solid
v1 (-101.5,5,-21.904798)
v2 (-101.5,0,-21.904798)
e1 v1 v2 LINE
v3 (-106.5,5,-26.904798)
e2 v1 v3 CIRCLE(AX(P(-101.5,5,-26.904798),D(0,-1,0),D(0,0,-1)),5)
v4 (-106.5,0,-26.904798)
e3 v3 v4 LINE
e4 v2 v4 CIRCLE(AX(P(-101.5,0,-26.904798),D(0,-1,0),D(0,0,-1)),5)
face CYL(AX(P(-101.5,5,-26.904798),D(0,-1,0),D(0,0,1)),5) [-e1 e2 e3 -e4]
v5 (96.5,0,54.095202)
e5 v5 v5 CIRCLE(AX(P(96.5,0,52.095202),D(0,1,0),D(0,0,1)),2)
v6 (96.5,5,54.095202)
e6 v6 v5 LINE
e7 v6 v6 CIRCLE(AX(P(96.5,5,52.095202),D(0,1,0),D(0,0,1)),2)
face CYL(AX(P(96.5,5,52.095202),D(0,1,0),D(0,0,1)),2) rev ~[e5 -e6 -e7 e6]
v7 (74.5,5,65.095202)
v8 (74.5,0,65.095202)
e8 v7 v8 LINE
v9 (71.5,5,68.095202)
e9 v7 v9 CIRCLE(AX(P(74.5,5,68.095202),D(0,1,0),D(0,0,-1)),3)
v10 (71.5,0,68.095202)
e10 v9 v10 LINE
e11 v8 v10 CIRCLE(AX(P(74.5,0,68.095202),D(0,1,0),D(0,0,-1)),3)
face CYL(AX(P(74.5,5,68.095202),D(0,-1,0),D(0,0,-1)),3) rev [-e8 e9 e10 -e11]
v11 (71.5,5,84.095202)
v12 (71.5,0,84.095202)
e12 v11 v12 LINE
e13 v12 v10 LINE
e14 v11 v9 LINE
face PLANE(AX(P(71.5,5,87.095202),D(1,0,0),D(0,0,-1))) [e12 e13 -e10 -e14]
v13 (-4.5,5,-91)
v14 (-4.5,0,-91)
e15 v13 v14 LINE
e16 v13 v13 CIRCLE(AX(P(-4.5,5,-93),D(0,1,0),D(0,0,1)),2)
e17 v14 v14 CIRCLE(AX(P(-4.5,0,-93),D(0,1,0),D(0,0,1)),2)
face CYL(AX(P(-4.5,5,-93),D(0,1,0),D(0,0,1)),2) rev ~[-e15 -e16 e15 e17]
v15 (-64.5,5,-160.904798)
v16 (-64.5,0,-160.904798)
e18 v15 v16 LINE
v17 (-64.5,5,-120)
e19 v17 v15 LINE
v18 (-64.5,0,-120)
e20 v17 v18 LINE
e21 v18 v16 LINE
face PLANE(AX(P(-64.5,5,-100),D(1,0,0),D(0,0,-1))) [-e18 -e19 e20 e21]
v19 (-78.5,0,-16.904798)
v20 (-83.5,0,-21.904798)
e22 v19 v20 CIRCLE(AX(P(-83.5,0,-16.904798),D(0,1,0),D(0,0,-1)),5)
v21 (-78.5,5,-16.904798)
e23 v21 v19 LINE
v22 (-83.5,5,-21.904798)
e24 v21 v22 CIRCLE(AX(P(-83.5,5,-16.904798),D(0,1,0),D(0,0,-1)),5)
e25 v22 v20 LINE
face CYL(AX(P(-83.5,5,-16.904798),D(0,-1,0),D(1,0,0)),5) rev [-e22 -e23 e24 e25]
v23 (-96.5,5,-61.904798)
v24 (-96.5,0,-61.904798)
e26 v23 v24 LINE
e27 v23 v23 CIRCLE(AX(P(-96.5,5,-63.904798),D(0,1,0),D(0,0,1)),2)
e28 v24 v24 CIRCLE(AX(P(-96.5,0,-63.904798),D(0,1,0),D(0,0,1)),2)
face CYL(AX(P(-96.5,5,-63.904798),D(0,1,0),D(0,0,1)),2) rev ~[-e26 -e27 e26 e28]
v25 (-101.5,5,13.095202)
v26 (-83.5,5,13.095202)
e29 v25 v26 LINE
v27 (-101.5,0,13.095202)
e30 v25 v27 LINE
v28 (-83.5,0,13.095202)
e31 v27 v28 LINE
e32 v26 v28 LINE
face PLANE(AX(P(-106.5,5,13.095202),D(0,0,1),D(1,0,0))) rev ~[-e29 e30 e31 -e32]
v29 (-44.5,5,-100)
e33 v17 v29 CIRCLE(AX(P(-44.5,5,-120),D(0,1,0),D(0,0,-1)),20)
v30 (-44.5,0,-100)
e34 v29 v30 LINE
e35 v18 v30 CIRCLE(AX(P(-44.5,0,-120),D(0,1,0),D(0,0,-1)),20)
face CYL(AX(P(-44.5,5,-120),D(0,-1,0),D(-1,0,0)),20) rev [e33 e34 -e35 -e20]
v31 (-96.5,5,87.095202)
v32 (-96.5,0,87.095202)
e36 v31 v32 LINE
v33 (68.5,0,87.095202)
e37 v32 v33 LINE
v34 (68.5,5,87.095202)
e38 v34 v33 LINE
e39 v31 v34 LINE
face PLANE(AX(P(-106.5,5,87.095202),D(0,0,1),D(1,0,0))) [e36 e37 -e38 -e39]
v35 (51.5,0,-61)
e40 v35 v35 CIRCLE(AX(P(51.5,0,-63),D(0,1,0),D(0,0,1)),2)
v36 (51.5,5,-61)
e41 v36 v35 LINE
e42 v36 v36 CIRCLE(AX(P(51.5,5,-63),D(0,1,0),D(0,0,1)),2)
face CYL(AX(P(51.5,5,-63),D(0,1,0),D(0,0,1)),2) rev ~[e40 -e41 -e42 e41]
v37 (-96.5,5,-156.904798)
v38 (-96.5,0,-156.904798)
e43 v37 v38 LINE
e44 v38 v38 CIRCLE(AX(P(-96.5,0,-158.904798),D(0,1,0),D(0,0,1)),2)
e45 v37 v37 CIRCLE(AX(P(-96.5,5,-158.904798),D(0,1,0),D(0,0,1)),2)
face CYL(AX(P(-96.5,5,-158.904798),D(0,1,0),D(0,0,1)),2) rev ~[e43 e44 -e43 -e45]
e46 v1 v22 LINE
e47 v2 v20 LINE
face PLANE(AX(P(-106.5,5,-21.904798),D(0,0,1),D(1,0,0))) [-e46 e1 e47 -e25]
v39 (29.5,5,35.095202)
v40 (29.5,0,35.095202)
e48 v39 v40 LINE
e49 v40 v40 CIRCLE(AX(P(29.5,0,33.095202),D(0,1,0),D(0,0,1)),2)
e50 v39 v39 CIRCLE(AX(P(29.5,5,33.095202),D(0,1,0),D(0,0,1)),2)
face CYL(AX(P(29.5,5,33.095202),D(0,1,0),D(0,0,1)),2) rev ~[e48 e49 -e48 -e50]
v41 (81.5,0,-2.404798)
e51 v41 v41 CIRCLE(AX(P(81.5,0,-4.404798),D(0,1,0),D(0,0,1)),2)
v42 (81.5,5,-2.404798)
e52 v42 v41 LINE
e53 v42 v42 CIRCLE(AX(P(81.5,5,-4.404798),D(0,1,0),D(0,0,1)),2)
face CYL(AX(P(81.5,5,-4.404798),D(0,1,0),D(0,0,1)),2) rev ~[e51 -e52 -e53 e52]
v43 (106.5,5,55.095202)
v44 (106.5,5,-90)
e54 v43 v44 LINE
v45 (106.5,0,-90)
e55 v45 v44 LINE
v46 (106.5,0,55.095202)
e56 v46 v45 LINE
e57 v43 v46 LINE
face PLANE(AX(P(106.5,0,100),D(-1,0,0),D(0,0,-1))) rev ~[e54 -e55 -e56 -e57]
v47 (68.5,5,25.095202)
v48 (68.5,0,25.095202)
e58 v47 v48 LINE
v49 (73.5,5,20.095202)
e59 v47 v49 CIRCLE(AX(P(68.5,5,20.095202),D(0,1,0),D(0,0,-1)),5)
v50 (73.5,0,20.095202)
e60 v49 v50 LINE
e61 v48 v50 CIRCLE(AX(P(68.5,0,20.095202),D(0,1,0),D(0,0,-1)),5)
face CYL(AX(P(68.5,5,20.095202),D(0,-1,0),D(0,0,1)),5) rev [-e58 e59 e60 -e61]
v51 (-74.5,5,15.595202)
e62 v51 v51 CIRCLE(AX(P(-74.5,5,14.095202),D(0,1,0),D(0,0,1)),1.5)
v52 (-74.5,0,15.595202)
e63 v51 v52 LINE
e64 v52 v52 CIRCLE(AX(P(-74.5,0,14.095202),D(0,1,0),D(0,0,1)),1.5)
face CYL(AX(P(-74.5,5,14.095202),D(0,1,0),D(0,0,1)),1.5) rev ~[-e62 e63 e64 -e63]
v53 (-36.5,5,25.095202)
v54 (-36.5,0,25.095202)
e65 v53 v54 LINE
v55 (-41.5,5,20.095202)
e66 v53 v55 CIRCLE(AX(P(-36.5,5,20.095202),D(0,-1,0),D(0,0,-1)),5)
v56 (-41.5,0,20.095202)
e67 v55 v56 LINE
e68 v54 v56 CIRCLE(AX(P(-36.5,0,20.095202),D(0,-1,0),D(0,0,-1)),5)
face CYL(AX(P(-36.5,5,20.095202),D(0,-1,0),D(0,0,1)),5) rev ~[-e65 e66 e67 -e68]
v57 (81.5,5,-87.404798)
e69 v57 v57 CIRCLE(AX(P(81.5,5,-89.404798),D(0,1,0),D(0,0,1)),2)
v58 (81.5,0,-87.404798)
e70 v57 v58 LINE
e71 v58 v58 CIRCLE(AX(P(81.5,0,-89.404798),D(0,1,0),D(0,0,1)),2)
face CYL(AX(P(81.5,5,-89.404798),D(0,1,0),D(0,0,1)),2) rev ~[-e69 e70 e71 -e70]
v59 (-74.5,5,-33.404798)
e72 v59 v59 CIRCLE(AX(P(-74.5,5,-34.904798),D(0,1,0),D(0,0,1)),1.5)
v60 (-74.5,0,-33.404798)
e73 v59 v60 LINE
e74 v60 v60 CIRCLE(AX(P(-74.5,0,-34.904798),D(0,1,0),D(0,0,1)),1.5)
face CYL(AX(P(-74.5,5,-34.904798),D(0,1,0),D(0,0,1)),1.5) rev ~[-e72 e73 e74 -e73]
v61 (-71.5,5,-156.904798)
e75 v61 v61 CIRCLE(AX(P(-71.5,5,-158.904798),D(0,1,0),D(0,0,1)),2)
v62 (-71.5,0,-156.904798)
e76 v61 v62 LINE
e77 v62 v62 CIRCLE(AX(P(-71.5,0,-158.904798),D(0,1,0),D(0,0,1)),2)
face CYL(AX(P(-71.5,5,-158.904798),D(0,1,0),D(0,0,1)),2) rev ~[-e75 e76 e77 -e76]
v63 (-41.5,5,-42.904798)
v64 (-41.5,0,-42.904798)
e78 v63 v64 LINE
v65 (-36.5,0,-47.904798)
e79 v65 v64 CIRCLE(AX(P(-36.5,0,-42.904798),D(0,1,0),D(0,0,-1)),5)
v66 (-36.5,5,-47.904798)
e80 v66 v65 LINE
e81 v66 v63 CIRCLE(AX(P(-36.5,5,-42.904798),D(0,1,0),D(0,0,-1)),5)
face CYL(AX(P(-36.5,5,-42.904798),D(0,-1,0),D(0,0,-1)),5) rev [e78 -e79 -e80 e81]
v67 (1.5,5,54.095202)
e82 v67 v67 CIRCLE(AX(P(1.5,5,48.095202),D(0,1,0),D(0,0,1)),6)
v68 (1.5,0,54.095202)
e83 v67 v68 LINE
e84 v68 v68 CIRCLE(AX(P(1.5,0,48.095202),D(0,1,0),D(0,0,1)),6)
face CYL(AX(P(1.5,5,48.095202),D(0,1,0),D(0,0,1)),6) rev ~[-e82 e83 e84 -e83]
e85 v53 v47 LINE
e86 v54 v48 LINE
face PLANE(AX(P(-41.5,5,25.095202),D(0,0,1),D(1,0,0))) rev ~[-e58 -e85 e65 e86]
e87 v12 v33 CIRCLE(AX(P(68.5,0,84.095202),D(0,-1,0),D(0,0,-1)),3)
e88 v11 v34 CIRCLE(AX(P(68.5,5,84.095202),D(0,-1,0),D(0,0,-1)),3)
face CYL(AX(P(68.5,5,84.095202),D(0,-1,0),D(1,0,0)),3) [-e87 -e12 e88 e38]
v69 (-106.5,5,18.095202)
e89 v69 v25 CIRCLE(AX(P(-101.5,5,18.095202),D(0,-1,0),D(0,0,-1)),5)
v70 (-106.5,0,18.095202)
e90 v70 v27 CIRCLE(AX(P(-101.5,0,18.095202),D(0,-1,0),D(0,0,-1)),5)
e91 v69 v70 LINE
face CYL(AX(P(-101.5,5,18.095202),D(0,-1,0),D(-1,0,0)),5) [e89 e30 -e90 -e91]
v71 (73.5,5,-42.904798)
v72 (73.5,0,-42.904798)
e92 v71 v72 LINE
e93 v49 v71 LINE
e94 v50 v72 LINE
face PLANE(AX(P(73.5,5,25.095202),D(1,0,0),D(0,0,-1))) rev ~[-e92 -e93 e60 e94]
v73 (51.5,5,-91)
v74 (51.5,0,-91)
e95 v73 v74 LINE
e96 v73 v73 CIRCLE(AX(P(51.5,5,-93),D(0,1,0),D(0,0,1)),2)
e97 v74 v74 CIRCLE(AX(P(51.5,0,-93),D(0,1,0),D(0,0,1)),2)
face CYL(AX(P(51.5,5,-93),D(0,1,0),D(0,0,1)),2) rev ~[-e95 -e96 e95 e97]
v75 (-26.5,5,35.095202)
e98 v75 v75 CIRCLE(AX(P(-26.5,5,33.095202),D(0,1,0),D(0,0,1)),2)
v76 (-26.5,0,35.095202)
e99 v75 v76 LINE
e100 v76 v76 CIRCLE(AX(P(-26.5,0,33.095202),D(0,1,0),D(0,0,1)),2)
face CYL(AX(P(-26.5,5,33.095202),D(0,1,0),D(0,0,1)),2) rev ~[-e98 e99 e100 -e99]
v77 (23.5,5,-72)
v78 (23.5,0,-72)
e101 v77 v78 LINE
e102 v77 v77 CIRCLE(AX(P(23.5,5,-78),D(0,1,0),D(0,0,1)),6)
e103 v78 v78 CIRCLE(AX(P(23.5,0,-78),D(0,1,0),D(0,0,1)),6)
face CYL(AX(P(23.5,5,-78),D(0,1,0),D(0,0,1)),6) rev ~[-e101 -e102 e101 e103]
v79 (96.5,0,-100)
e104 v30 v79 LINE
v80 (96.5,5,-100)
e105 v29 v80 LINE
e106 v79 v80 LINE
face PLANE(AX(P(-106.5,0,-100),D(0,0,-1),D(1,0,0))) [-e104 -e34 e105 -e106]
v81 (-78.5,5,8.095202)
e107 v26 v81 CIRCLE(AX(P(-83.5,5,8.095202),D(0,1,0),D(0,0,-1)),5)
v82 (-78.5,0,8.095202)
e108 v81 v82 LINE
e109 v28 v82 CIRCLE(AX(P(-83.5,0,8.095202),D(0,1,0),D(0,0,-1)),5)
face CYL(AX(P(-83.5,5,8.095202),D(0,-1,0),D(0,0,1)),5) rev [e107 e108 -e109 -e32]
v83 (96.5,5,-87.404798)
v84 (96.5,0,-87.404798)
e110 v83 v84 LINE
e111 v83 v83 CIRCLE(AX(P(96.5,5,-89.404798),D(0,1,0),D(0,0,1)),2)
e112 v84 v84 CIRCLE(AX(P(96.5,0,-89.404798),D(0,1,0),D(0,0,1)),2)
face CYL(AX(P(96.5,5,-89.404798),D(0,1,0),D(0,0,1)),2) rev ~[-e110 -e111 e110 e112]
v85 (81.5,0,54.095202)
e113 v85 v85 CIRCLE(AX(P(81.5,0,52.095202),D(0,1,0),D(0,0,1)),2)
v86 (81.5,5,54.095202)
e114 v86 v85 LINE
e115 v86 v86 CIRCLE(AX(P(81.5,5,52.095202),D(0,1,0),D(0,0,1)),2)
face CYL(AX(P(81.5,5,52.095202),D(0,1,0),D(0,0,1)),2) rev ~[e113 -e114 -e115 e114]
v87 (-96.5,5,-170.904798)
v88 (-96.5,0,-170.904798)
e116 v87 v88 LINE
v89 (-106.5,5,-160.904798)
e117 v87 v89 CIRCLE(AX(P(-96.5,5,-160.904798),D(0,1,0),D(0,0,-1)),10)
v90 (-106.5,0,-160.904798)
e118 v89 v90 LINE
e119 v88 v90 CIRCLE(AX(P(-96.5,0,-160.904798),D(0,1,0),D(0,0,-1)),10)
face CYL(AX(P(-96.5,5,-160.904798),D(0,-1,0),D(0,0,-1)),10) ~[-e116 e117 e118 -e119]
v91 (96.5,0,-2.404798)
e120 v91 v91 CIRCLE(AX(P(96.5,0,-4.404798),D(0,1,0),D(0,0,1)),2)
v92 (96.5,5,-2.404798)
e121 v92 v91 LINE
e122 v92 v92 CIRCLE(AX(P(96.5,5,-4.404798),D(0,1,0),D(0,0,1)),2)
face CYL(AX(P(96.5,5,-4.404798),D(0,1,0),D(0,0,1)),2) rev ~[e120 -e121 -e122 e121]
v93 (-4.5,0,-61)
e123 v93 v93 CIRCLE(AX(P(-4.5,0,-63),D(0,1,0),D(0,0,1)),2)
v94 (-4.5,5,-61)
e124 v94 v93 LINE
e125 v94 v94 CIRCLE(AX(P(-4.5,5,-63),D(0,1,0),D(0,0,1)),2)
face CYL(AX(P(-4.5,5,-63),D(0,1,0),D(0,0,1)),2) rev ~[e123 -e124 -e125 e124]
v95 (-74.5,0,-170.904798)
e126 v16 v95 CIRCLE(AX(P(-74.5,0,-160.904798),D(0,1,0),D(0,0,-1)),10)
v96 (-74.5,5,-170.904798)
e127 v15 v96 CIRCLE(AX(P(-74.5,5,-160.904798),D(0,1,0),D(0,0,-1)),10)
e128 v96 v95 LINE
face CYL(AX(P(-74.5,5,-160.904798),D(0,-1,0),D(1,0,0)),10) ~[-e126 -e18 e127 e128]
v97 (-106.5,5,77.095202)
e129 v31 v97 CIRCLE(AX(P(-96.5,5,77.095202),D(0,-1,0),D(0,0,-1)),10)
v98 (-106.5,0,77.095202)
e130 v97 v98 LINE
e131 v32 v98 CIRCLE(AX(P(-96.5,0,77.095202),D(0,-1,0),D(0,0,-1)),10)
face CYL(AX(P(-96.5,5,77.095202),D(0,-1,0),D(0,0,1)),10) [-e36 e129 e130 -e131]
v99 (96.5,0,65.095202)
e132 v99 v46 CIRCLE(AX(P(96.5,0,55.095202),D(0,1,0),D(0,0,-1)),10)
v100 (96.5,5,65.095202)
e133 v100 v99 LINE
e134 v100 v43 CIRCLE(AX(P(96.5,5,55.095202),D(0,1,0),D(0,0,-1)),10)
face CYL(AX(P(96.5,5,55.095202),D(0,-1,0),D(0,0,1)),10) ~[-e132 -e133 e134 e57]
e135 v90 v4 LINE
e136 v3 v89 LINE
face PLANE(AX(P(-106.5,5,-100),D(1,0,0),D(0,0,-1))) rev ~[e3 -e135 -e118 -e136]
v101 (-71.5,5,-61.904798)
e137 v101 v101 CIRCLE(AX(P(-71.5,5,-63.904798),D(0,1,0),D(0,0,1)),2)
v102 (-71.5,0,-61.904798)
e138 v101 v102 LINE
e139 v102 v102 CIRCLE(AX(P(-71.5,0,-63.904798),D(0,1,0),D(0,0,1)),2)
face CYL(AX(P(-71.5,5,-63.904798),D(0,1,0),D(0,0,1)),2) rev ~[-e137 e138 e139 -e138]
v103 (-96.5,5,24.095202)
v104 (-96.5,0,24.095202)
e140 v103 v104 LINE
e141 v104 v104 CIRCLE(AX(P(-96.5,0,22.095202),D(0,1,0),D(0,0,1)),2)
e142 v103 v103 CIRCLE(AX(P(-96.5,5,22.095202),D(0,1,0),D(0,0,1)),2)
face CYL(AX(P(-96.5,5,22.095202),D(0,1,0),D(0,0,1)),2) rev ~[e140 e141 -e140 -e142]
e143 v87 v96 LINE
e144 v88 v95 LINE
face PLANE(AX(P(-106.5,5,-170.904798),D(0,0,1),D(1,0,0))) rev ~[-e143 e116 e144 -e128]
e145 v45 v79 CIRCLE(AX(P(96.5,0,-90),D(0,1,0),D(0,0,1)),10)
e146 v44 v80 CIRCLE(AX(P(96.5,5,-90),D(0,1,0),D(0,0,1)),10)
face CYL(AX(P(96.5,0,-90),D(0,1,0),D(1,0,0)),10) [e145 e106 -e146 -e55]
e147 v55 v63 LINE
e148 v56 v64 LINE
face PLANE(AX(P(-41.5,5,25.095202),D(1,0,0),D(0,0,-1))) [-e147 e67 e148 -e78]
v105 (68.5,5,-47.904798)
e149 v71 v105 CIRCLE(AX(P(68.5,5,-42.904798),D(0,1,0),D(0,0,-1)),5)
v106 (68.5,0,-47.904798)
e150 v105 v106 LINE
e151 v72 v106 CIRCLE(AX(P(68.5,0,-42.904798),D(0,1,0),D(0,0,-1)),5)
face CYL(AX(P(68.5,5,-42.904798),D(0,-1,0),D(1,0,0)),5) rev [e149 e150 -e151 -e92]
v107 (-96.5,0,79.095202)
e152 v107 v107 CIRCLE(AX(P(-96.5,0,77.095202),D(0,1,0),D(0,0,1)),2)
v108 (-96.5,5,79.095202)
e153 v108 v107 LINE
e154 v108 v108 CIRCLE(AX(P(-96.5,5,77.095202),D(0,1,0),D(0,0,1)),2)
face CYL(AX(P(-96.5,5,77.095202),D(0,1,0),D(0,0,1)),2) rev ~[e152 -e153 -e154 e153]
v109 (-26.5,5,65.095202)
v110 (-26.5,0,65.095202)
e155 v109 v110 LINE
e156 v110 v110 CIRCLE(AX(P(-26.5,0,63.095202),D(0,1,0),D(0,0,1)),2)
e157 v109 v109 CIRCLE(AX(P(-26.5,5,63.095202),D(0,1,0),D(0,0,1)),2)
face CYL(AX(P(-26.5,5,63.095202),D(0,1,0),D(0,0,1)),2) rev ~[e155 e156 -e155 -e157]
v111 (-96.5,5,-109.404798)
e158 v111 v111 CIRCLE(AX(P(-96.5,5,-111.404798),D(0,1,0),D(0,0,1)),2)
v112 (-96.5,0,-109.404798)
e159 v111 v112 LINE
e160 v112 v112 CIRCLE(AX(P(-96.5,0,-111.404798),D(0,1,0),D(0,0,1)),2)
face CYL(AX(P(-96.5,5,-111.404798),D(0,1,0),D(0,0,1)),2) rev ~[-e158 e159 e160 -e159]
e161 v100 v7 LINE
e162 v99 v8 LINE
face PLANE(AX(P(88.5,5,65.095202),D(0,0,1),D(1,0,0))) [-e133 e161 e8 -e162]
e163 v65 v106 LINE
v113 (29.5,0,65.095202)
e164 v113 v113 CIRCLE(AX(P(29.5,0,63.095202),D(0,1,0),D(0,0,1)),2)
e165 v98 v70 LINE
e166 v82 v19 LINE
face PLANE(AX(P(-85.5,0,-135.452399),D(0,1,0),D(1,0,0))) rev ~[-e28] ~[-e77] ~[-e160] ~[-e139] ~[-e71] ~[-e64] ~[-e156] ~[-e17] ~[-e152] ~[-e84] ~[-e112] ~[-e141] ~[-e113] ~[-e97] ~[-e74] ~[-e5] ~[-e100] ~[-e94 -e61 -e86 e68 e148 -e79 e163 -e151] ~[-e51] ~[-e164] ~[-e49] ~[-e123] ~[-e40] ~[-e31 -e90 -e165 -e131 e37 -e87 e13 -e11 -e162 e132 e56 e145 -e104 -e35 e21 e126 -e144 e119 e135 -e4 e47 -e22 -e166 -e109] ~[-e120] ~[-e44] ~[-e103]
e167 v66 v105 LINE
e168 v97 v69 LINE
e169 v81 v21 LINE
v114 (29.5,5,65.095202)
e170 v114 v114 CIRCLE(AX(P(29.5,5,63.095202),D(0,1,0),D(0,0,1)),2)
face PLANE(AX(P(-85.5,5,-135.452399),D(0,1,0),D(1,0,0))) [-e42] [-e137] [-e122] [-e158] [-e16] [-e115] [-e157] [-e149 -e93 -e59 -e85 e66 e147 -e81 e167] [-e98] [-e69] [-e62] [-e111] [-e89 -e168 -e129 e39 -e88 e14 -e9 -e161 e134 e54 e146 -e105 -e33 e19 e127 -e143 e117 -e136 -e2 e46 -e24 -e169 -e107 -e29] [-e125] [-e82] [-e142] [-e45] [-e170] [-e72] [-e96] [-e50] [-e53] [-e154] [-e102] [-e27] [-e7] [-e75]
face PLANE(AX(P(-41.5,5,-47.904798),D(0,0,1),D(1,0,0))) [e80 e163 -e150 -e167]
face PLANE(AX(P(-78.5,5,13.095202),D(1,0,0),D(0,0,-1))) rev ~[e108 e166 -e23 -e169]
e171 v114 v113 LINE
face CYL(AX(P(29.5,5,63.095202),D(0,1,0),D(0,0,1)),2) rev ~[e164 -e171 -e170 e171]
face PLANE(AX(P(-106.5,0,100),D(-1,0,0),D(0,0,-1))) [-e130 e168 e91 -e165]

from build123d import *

# Parameters (mm, degrees)
SKETCH_1_W          = 213
SKETCH_1_H          = 200
EXTRUDE_1_DEPTH     = 5
SKETCH_2_R          = 2
SKETCH_2_R_2        = 6
CUT_EXTRUDE_1_DEPTH = 147.175408328
SKETCH_3_W          = 213
SKETCH_3_H          = 12.904797871
CUT_EXTRUDE_2_DEPTH = 147.175408328
SKETCH_4_W          = 28
SKETCH_4_H          = 35
CUT_EXTRUDE_3_DEPTH = 147.175408328
FILLET_1_R          = 5
SKETCH_5_W          = 42
SKETCH_5_H          = 70.904797871
EXTRUDE_2_DEPTH     = 5
FILLET_2_R          = 20
SKETCH_6_R          = 2
CUT_EXTRUDE_4_DEPTH = 202.434108173
SKETCH_7_R          = 2
CUT_EXTRUDE_5_DEPTH = 202.434108173
SKETCH_8_W          = 20
SKETCH_8_H          = 22
CUT_EXTRUDE_6_DEPTH = 202.434108173
FILLET_3_R          = 3
SKETCH_9_W          = 18
SKETCH_9_H          = 22
CUT_EXTRUDE_7_DEPTH = 202.434108173
SKETCH_10_R         = 1.5
CUT_EXTRUDE_8_DEPTH = 202.434108173
FILLET_4_R          = 10
SKETCH_11_W         = 115
SKETCH_11_H         = 73
CUT_EXTRUDE_9_DEPTH = 202.434108173
FILLET_5_R          = 5


with BuildPart() as part:
    # 草图1 → 凸台-拉伸1 (new body)
    with BuildSketch(Plane(origin=(0, 0, 0), x_dir=(1, 0, 0), z_dir=(0, 1, 0))):
        Rectangle(SKETCH_1_W, SKETCH_1_H)
    extrude(amount=EXTRUDE_1_DEPTH)

    # 草图2 → 切除-拉伸1 (cut, through all)
    with BuildSketch(Plane(origin=(0, 5, 0), x_dir=(1, 0, 0), z_dir=(0, 1, 0))):
        with Locations(Location((-4.5, 93, 0), (0, 0, 270))):
            Circle(SKETCH_2_R)
        with Locations(Location((51.5, 93, 0), (0, 0, 270))):
            Circle(SKETCH_2_R)
        with Locations(Location((-4.5, 63, 0), (0, 0, 270))):
            Circle(SKETCH_2_R)
        with Locations(Location((51.5, 63, 0), (0, 0, 270))):
            Circle(SKETCH_2_R)
        with Locations(Location((-26.5, -33.095202129, 0), (0, 0, 270))):
            Circle(SKETCH_2_R)
        with Locations(Location((29.5, -33.095202129, 0), (0, 0, 270))):
            Circle(SKETCH_2_R)
        with Locations(Location((29.5, -63.095202129, 0), (0, 0, 270))):
            Circle(SKETCH_2_R)
        with Locations(Location((-26.5, -63.095202129, 0), (0, 0, 270))):
            Circle(SKETCH_2_R)
        with Locations(Location((1.5, -48.095202129, 0), (0, 0, 270))):
            Circle(SKETCH_2_R_2)
        with Locations(Location((23.5, 78, 0), (0, 0, 270))):
            Circle(SKETCH_2_R_2)
    extrude(amount=-CUT_EXTRUDE_1_DEPTH, mode=Mode.SUBTRACT)

    # 草图3 → 切除-拉伸2 (cut, through all)
    with BuildSketch(Plane(origin=(0, 5, 0), x_dir=(1, 0, 0), z_dir=(0, 1, 0))):
        with Locations((0, -93.547601065)):
            Rectangle(SKETCH_3_W, SKETCH_3_H)
    extrude(amount=-CUT_EXTRUDE_2_DEPTH, mode=Mode.SUBTRACT)

    # 草图4 → 切除-拉伸3 (cut, through all)
    with BuildSketch(Plane(origin=(0, 5, 0), x_dir=(1, 0, 0), z_dir=(0, 1, 0))):
        with Locations((-92.5, 4.404797871)):
            Rectangle(SKETCH_4_W, SKETCH_4_H)
    extrude(amount=-CUT_EXTRUDE_3_DEPTH, mode=Mode.SUBTRACT)

    # 圆角1
    fillet_1_edges = [part.edges().sort_by_distance(p)[0] for p in [
        (-106.5, 2.5, 13.095202129),
        (-106.5, 2.5, -21.904797871),
        (-78.5, 2.5, -21.904797871),
        (-78.5, 2.5, 13.095202129),
    ]]
    fillet(fillet_1_edges, radius=FILLET_1_R)

    # 草图5 → 凸台-拉伸2 (add)
    with BuildSketch(Plane(origin=(0, 5, 0), x_dir=(1, 0, 0), z_dir=(0, 1, 0))):
        with Locations((-85.5, 135.452398936)):
            Rectangle(SKETCH_5_W, SKETCH_5_H)
    extrude(amount=-EXTRUDE_2_DEPTH)

    # 圆角2
    fillet_2_edges = [part.edges().sort_by_distance(p)[0] for p in [
        (-64.5, 2.5, -100),
    ]]
    fillet(fillet_2_edges, radius=FILLET_2_R)

    # 草图6 → 切除-拉伸4 (cut, through all)
    with BuildSketch(Plane(origin=(0, 5, 0), x_dir=(1, 0, 0), z_dir=(0, 1, 0))):
        with Locations(Location((-96.5, 158.904797871, 0), (0, 0, 270))):
            Circle(SKETCH_6_R)
        with Locations(Location((-71.5, 158.904797871, 0), (0, 0, 270))):
            Circle(SKETCH_6_R)
        with Locations(Location((-71.5, 63.904797871, 0), (0, 0, 270))):
            Circle(SKETCH_6_R)
        with Locations(Location((-96.5, 63.904797871, 0), (0, 0, 270))):
            Circle(SKETCH_6_R)
    extrude(amount=-CUT_EXTRUDE_4_DEPTH, mode=Mode.SUBTRACT)

    # 草图7 → 切除-拉伸5 (cut, through all)
    with BuildSketch(Plane(origin=(0, 5, 0), x_dir=(1, 0, 0), z_dir=(0, 1, 0))):
        with Locations(Location((-96.5, 111.404797871, 0), (0, 0, 270))):
            Circle(SKETCH_7_R)
        with Locations(Location((-96.5, -22.095202129, 0), (0, 0, 270))):
            Circle(SKETCH_7_R)
        with Locations(Location((-96.5, -77.095202129, 0), (0, 0, 270))):
            Circle(SKETCH_7_R)
        with Locations(Location((96.5, -52.095202129, 0), (0, 0, 270))):
            Circle(SKETCH_7_R)
        with Locations(Location((96.5, 4.404797871, 0), (0, 0, 270))):
            Circle(SKETCH_7_R)
        with Locations(Location((96.5, 89.404797871, 0), (0, 0, 270))):
            Circle(SKETCH_7_R)
        with Locations(Location((81.5, 89.404797871, 0), (0, 0, 270))):
            Circle(SKETCH_7_R)
        with Locations(Location((81.5, 4.404797871, 0), (0, 0, 270))):
            Circle(SKETCH_7_R)
        with Locations(Location((81.5, -52.095202129, 0), (0, 0, 270))):
            Circle(SKETCH_7_R)
    extrude(amount=-CUT_EXTRUDE_5_DEPTH, mode=Mode.SUBTRACT)

    # 草图8 → 切除-拉伸6 (cut, through all)
    with BuildSketch(Plane(origin=(0, 5, 0), x_dir=(1, 0, 0), z_dir=(0, 1, 0))):
        with Locations((81.5, -76.095202129)):
            Rectangle(SKETCH_8_W, SKETCH_8_H)
    extrude(amount=-CUT_EXTRUDE_6_DEPTH, mode=Mode.SUBTRACT)

    # 圆角3
    fillet_3_edges = [part.edges().sort_by_distance(p)[0] for p in [
        (91.5, 2.5, 87.095202129),
        (71.5, 2.5, 87.095202129),
        (71.5, 2.5, 65.095202129),
        (91.5, 2.5, 65.095202129),
    ]]
    fillet(fillet_3_edges, radius=FILLET_3_R)

    # 草图9 → 切除-拉伸7 (cut, through all)
    with BuildSketch(Plane(origin=(0, 5, 0), x_dir=(1, 0, 0), z_dir=(0, 1, 0))):
        with Locations((97.5, -76.095202129)):
            Rectangle(SKETCH_9_W, SKETCH_9_H)
    extrude(amount=-CUT_EXTRUDE_7_DEPTH, mode=Mode.SUBTRACT)

    # 草图10 → 切除-拉伸8 (cut, through all)
    with BuildSketch(Plane(origin=(0, 5, 0), x_dir=(1, 0, 0), z_dir=(0, 1, 0))):
        with Locations(Location((-74.5, 34.904797871, 0), (0, 0, 270))):
            Circle(SKETCH_10_R)
        with Locations(Location((-74.5, -14.095202129, 0), (0, 0, 270))):
            Circle(SKETCH_10_R)
    extrude(amount=-CUT_EXTRUDE_8_DEPTH, mode=Mode.SUBTRACT)

    # 圆角4
    fillet_4_edges = [part.edges().sort_by_distance(p)[0] for p in [
        (-106.5, 2.5, -170.904797871),
        (-64.5, 2.5, -170.904797871),
        (106.5, 2.5, 65.095202129),
        (-106.5, 2.5, 87.095202129),
        (106.5, 2.5, -100),
    ]]
    fillet(fillet_4_edges, radius=FILLET_4_R)

    # 草图11 → 切除-拉伸9 (cut, through all)
    with BuildSketch(Plane(origin=(0, 5, 0), x_dir=(1, 0, 0), z_dir=(0, 1, 0))):
        with Locations((16, 11.404797871)):
            Rectangle(SKETCH_11_W, SKETCH_11_H)
    extrude(amount=-CUT_EXTRUDE_9_DEPTH, mode=Mode.SUBTRACT)

    # 圆角5
    fillet_5_edges = [part.edges().sort_by_distance(p)[0] for p in [
        (-41.5, 2.5, 25.095202129),
        (-41.5, 2.5, -47.904797871),
        (73.5, 2.5, -47.904797871),
        (73.5, 2.5, 25.095202129),
    ]]
    fillet(fillet_5_edges, radius=FILLET_5_R)


solid = part.part
